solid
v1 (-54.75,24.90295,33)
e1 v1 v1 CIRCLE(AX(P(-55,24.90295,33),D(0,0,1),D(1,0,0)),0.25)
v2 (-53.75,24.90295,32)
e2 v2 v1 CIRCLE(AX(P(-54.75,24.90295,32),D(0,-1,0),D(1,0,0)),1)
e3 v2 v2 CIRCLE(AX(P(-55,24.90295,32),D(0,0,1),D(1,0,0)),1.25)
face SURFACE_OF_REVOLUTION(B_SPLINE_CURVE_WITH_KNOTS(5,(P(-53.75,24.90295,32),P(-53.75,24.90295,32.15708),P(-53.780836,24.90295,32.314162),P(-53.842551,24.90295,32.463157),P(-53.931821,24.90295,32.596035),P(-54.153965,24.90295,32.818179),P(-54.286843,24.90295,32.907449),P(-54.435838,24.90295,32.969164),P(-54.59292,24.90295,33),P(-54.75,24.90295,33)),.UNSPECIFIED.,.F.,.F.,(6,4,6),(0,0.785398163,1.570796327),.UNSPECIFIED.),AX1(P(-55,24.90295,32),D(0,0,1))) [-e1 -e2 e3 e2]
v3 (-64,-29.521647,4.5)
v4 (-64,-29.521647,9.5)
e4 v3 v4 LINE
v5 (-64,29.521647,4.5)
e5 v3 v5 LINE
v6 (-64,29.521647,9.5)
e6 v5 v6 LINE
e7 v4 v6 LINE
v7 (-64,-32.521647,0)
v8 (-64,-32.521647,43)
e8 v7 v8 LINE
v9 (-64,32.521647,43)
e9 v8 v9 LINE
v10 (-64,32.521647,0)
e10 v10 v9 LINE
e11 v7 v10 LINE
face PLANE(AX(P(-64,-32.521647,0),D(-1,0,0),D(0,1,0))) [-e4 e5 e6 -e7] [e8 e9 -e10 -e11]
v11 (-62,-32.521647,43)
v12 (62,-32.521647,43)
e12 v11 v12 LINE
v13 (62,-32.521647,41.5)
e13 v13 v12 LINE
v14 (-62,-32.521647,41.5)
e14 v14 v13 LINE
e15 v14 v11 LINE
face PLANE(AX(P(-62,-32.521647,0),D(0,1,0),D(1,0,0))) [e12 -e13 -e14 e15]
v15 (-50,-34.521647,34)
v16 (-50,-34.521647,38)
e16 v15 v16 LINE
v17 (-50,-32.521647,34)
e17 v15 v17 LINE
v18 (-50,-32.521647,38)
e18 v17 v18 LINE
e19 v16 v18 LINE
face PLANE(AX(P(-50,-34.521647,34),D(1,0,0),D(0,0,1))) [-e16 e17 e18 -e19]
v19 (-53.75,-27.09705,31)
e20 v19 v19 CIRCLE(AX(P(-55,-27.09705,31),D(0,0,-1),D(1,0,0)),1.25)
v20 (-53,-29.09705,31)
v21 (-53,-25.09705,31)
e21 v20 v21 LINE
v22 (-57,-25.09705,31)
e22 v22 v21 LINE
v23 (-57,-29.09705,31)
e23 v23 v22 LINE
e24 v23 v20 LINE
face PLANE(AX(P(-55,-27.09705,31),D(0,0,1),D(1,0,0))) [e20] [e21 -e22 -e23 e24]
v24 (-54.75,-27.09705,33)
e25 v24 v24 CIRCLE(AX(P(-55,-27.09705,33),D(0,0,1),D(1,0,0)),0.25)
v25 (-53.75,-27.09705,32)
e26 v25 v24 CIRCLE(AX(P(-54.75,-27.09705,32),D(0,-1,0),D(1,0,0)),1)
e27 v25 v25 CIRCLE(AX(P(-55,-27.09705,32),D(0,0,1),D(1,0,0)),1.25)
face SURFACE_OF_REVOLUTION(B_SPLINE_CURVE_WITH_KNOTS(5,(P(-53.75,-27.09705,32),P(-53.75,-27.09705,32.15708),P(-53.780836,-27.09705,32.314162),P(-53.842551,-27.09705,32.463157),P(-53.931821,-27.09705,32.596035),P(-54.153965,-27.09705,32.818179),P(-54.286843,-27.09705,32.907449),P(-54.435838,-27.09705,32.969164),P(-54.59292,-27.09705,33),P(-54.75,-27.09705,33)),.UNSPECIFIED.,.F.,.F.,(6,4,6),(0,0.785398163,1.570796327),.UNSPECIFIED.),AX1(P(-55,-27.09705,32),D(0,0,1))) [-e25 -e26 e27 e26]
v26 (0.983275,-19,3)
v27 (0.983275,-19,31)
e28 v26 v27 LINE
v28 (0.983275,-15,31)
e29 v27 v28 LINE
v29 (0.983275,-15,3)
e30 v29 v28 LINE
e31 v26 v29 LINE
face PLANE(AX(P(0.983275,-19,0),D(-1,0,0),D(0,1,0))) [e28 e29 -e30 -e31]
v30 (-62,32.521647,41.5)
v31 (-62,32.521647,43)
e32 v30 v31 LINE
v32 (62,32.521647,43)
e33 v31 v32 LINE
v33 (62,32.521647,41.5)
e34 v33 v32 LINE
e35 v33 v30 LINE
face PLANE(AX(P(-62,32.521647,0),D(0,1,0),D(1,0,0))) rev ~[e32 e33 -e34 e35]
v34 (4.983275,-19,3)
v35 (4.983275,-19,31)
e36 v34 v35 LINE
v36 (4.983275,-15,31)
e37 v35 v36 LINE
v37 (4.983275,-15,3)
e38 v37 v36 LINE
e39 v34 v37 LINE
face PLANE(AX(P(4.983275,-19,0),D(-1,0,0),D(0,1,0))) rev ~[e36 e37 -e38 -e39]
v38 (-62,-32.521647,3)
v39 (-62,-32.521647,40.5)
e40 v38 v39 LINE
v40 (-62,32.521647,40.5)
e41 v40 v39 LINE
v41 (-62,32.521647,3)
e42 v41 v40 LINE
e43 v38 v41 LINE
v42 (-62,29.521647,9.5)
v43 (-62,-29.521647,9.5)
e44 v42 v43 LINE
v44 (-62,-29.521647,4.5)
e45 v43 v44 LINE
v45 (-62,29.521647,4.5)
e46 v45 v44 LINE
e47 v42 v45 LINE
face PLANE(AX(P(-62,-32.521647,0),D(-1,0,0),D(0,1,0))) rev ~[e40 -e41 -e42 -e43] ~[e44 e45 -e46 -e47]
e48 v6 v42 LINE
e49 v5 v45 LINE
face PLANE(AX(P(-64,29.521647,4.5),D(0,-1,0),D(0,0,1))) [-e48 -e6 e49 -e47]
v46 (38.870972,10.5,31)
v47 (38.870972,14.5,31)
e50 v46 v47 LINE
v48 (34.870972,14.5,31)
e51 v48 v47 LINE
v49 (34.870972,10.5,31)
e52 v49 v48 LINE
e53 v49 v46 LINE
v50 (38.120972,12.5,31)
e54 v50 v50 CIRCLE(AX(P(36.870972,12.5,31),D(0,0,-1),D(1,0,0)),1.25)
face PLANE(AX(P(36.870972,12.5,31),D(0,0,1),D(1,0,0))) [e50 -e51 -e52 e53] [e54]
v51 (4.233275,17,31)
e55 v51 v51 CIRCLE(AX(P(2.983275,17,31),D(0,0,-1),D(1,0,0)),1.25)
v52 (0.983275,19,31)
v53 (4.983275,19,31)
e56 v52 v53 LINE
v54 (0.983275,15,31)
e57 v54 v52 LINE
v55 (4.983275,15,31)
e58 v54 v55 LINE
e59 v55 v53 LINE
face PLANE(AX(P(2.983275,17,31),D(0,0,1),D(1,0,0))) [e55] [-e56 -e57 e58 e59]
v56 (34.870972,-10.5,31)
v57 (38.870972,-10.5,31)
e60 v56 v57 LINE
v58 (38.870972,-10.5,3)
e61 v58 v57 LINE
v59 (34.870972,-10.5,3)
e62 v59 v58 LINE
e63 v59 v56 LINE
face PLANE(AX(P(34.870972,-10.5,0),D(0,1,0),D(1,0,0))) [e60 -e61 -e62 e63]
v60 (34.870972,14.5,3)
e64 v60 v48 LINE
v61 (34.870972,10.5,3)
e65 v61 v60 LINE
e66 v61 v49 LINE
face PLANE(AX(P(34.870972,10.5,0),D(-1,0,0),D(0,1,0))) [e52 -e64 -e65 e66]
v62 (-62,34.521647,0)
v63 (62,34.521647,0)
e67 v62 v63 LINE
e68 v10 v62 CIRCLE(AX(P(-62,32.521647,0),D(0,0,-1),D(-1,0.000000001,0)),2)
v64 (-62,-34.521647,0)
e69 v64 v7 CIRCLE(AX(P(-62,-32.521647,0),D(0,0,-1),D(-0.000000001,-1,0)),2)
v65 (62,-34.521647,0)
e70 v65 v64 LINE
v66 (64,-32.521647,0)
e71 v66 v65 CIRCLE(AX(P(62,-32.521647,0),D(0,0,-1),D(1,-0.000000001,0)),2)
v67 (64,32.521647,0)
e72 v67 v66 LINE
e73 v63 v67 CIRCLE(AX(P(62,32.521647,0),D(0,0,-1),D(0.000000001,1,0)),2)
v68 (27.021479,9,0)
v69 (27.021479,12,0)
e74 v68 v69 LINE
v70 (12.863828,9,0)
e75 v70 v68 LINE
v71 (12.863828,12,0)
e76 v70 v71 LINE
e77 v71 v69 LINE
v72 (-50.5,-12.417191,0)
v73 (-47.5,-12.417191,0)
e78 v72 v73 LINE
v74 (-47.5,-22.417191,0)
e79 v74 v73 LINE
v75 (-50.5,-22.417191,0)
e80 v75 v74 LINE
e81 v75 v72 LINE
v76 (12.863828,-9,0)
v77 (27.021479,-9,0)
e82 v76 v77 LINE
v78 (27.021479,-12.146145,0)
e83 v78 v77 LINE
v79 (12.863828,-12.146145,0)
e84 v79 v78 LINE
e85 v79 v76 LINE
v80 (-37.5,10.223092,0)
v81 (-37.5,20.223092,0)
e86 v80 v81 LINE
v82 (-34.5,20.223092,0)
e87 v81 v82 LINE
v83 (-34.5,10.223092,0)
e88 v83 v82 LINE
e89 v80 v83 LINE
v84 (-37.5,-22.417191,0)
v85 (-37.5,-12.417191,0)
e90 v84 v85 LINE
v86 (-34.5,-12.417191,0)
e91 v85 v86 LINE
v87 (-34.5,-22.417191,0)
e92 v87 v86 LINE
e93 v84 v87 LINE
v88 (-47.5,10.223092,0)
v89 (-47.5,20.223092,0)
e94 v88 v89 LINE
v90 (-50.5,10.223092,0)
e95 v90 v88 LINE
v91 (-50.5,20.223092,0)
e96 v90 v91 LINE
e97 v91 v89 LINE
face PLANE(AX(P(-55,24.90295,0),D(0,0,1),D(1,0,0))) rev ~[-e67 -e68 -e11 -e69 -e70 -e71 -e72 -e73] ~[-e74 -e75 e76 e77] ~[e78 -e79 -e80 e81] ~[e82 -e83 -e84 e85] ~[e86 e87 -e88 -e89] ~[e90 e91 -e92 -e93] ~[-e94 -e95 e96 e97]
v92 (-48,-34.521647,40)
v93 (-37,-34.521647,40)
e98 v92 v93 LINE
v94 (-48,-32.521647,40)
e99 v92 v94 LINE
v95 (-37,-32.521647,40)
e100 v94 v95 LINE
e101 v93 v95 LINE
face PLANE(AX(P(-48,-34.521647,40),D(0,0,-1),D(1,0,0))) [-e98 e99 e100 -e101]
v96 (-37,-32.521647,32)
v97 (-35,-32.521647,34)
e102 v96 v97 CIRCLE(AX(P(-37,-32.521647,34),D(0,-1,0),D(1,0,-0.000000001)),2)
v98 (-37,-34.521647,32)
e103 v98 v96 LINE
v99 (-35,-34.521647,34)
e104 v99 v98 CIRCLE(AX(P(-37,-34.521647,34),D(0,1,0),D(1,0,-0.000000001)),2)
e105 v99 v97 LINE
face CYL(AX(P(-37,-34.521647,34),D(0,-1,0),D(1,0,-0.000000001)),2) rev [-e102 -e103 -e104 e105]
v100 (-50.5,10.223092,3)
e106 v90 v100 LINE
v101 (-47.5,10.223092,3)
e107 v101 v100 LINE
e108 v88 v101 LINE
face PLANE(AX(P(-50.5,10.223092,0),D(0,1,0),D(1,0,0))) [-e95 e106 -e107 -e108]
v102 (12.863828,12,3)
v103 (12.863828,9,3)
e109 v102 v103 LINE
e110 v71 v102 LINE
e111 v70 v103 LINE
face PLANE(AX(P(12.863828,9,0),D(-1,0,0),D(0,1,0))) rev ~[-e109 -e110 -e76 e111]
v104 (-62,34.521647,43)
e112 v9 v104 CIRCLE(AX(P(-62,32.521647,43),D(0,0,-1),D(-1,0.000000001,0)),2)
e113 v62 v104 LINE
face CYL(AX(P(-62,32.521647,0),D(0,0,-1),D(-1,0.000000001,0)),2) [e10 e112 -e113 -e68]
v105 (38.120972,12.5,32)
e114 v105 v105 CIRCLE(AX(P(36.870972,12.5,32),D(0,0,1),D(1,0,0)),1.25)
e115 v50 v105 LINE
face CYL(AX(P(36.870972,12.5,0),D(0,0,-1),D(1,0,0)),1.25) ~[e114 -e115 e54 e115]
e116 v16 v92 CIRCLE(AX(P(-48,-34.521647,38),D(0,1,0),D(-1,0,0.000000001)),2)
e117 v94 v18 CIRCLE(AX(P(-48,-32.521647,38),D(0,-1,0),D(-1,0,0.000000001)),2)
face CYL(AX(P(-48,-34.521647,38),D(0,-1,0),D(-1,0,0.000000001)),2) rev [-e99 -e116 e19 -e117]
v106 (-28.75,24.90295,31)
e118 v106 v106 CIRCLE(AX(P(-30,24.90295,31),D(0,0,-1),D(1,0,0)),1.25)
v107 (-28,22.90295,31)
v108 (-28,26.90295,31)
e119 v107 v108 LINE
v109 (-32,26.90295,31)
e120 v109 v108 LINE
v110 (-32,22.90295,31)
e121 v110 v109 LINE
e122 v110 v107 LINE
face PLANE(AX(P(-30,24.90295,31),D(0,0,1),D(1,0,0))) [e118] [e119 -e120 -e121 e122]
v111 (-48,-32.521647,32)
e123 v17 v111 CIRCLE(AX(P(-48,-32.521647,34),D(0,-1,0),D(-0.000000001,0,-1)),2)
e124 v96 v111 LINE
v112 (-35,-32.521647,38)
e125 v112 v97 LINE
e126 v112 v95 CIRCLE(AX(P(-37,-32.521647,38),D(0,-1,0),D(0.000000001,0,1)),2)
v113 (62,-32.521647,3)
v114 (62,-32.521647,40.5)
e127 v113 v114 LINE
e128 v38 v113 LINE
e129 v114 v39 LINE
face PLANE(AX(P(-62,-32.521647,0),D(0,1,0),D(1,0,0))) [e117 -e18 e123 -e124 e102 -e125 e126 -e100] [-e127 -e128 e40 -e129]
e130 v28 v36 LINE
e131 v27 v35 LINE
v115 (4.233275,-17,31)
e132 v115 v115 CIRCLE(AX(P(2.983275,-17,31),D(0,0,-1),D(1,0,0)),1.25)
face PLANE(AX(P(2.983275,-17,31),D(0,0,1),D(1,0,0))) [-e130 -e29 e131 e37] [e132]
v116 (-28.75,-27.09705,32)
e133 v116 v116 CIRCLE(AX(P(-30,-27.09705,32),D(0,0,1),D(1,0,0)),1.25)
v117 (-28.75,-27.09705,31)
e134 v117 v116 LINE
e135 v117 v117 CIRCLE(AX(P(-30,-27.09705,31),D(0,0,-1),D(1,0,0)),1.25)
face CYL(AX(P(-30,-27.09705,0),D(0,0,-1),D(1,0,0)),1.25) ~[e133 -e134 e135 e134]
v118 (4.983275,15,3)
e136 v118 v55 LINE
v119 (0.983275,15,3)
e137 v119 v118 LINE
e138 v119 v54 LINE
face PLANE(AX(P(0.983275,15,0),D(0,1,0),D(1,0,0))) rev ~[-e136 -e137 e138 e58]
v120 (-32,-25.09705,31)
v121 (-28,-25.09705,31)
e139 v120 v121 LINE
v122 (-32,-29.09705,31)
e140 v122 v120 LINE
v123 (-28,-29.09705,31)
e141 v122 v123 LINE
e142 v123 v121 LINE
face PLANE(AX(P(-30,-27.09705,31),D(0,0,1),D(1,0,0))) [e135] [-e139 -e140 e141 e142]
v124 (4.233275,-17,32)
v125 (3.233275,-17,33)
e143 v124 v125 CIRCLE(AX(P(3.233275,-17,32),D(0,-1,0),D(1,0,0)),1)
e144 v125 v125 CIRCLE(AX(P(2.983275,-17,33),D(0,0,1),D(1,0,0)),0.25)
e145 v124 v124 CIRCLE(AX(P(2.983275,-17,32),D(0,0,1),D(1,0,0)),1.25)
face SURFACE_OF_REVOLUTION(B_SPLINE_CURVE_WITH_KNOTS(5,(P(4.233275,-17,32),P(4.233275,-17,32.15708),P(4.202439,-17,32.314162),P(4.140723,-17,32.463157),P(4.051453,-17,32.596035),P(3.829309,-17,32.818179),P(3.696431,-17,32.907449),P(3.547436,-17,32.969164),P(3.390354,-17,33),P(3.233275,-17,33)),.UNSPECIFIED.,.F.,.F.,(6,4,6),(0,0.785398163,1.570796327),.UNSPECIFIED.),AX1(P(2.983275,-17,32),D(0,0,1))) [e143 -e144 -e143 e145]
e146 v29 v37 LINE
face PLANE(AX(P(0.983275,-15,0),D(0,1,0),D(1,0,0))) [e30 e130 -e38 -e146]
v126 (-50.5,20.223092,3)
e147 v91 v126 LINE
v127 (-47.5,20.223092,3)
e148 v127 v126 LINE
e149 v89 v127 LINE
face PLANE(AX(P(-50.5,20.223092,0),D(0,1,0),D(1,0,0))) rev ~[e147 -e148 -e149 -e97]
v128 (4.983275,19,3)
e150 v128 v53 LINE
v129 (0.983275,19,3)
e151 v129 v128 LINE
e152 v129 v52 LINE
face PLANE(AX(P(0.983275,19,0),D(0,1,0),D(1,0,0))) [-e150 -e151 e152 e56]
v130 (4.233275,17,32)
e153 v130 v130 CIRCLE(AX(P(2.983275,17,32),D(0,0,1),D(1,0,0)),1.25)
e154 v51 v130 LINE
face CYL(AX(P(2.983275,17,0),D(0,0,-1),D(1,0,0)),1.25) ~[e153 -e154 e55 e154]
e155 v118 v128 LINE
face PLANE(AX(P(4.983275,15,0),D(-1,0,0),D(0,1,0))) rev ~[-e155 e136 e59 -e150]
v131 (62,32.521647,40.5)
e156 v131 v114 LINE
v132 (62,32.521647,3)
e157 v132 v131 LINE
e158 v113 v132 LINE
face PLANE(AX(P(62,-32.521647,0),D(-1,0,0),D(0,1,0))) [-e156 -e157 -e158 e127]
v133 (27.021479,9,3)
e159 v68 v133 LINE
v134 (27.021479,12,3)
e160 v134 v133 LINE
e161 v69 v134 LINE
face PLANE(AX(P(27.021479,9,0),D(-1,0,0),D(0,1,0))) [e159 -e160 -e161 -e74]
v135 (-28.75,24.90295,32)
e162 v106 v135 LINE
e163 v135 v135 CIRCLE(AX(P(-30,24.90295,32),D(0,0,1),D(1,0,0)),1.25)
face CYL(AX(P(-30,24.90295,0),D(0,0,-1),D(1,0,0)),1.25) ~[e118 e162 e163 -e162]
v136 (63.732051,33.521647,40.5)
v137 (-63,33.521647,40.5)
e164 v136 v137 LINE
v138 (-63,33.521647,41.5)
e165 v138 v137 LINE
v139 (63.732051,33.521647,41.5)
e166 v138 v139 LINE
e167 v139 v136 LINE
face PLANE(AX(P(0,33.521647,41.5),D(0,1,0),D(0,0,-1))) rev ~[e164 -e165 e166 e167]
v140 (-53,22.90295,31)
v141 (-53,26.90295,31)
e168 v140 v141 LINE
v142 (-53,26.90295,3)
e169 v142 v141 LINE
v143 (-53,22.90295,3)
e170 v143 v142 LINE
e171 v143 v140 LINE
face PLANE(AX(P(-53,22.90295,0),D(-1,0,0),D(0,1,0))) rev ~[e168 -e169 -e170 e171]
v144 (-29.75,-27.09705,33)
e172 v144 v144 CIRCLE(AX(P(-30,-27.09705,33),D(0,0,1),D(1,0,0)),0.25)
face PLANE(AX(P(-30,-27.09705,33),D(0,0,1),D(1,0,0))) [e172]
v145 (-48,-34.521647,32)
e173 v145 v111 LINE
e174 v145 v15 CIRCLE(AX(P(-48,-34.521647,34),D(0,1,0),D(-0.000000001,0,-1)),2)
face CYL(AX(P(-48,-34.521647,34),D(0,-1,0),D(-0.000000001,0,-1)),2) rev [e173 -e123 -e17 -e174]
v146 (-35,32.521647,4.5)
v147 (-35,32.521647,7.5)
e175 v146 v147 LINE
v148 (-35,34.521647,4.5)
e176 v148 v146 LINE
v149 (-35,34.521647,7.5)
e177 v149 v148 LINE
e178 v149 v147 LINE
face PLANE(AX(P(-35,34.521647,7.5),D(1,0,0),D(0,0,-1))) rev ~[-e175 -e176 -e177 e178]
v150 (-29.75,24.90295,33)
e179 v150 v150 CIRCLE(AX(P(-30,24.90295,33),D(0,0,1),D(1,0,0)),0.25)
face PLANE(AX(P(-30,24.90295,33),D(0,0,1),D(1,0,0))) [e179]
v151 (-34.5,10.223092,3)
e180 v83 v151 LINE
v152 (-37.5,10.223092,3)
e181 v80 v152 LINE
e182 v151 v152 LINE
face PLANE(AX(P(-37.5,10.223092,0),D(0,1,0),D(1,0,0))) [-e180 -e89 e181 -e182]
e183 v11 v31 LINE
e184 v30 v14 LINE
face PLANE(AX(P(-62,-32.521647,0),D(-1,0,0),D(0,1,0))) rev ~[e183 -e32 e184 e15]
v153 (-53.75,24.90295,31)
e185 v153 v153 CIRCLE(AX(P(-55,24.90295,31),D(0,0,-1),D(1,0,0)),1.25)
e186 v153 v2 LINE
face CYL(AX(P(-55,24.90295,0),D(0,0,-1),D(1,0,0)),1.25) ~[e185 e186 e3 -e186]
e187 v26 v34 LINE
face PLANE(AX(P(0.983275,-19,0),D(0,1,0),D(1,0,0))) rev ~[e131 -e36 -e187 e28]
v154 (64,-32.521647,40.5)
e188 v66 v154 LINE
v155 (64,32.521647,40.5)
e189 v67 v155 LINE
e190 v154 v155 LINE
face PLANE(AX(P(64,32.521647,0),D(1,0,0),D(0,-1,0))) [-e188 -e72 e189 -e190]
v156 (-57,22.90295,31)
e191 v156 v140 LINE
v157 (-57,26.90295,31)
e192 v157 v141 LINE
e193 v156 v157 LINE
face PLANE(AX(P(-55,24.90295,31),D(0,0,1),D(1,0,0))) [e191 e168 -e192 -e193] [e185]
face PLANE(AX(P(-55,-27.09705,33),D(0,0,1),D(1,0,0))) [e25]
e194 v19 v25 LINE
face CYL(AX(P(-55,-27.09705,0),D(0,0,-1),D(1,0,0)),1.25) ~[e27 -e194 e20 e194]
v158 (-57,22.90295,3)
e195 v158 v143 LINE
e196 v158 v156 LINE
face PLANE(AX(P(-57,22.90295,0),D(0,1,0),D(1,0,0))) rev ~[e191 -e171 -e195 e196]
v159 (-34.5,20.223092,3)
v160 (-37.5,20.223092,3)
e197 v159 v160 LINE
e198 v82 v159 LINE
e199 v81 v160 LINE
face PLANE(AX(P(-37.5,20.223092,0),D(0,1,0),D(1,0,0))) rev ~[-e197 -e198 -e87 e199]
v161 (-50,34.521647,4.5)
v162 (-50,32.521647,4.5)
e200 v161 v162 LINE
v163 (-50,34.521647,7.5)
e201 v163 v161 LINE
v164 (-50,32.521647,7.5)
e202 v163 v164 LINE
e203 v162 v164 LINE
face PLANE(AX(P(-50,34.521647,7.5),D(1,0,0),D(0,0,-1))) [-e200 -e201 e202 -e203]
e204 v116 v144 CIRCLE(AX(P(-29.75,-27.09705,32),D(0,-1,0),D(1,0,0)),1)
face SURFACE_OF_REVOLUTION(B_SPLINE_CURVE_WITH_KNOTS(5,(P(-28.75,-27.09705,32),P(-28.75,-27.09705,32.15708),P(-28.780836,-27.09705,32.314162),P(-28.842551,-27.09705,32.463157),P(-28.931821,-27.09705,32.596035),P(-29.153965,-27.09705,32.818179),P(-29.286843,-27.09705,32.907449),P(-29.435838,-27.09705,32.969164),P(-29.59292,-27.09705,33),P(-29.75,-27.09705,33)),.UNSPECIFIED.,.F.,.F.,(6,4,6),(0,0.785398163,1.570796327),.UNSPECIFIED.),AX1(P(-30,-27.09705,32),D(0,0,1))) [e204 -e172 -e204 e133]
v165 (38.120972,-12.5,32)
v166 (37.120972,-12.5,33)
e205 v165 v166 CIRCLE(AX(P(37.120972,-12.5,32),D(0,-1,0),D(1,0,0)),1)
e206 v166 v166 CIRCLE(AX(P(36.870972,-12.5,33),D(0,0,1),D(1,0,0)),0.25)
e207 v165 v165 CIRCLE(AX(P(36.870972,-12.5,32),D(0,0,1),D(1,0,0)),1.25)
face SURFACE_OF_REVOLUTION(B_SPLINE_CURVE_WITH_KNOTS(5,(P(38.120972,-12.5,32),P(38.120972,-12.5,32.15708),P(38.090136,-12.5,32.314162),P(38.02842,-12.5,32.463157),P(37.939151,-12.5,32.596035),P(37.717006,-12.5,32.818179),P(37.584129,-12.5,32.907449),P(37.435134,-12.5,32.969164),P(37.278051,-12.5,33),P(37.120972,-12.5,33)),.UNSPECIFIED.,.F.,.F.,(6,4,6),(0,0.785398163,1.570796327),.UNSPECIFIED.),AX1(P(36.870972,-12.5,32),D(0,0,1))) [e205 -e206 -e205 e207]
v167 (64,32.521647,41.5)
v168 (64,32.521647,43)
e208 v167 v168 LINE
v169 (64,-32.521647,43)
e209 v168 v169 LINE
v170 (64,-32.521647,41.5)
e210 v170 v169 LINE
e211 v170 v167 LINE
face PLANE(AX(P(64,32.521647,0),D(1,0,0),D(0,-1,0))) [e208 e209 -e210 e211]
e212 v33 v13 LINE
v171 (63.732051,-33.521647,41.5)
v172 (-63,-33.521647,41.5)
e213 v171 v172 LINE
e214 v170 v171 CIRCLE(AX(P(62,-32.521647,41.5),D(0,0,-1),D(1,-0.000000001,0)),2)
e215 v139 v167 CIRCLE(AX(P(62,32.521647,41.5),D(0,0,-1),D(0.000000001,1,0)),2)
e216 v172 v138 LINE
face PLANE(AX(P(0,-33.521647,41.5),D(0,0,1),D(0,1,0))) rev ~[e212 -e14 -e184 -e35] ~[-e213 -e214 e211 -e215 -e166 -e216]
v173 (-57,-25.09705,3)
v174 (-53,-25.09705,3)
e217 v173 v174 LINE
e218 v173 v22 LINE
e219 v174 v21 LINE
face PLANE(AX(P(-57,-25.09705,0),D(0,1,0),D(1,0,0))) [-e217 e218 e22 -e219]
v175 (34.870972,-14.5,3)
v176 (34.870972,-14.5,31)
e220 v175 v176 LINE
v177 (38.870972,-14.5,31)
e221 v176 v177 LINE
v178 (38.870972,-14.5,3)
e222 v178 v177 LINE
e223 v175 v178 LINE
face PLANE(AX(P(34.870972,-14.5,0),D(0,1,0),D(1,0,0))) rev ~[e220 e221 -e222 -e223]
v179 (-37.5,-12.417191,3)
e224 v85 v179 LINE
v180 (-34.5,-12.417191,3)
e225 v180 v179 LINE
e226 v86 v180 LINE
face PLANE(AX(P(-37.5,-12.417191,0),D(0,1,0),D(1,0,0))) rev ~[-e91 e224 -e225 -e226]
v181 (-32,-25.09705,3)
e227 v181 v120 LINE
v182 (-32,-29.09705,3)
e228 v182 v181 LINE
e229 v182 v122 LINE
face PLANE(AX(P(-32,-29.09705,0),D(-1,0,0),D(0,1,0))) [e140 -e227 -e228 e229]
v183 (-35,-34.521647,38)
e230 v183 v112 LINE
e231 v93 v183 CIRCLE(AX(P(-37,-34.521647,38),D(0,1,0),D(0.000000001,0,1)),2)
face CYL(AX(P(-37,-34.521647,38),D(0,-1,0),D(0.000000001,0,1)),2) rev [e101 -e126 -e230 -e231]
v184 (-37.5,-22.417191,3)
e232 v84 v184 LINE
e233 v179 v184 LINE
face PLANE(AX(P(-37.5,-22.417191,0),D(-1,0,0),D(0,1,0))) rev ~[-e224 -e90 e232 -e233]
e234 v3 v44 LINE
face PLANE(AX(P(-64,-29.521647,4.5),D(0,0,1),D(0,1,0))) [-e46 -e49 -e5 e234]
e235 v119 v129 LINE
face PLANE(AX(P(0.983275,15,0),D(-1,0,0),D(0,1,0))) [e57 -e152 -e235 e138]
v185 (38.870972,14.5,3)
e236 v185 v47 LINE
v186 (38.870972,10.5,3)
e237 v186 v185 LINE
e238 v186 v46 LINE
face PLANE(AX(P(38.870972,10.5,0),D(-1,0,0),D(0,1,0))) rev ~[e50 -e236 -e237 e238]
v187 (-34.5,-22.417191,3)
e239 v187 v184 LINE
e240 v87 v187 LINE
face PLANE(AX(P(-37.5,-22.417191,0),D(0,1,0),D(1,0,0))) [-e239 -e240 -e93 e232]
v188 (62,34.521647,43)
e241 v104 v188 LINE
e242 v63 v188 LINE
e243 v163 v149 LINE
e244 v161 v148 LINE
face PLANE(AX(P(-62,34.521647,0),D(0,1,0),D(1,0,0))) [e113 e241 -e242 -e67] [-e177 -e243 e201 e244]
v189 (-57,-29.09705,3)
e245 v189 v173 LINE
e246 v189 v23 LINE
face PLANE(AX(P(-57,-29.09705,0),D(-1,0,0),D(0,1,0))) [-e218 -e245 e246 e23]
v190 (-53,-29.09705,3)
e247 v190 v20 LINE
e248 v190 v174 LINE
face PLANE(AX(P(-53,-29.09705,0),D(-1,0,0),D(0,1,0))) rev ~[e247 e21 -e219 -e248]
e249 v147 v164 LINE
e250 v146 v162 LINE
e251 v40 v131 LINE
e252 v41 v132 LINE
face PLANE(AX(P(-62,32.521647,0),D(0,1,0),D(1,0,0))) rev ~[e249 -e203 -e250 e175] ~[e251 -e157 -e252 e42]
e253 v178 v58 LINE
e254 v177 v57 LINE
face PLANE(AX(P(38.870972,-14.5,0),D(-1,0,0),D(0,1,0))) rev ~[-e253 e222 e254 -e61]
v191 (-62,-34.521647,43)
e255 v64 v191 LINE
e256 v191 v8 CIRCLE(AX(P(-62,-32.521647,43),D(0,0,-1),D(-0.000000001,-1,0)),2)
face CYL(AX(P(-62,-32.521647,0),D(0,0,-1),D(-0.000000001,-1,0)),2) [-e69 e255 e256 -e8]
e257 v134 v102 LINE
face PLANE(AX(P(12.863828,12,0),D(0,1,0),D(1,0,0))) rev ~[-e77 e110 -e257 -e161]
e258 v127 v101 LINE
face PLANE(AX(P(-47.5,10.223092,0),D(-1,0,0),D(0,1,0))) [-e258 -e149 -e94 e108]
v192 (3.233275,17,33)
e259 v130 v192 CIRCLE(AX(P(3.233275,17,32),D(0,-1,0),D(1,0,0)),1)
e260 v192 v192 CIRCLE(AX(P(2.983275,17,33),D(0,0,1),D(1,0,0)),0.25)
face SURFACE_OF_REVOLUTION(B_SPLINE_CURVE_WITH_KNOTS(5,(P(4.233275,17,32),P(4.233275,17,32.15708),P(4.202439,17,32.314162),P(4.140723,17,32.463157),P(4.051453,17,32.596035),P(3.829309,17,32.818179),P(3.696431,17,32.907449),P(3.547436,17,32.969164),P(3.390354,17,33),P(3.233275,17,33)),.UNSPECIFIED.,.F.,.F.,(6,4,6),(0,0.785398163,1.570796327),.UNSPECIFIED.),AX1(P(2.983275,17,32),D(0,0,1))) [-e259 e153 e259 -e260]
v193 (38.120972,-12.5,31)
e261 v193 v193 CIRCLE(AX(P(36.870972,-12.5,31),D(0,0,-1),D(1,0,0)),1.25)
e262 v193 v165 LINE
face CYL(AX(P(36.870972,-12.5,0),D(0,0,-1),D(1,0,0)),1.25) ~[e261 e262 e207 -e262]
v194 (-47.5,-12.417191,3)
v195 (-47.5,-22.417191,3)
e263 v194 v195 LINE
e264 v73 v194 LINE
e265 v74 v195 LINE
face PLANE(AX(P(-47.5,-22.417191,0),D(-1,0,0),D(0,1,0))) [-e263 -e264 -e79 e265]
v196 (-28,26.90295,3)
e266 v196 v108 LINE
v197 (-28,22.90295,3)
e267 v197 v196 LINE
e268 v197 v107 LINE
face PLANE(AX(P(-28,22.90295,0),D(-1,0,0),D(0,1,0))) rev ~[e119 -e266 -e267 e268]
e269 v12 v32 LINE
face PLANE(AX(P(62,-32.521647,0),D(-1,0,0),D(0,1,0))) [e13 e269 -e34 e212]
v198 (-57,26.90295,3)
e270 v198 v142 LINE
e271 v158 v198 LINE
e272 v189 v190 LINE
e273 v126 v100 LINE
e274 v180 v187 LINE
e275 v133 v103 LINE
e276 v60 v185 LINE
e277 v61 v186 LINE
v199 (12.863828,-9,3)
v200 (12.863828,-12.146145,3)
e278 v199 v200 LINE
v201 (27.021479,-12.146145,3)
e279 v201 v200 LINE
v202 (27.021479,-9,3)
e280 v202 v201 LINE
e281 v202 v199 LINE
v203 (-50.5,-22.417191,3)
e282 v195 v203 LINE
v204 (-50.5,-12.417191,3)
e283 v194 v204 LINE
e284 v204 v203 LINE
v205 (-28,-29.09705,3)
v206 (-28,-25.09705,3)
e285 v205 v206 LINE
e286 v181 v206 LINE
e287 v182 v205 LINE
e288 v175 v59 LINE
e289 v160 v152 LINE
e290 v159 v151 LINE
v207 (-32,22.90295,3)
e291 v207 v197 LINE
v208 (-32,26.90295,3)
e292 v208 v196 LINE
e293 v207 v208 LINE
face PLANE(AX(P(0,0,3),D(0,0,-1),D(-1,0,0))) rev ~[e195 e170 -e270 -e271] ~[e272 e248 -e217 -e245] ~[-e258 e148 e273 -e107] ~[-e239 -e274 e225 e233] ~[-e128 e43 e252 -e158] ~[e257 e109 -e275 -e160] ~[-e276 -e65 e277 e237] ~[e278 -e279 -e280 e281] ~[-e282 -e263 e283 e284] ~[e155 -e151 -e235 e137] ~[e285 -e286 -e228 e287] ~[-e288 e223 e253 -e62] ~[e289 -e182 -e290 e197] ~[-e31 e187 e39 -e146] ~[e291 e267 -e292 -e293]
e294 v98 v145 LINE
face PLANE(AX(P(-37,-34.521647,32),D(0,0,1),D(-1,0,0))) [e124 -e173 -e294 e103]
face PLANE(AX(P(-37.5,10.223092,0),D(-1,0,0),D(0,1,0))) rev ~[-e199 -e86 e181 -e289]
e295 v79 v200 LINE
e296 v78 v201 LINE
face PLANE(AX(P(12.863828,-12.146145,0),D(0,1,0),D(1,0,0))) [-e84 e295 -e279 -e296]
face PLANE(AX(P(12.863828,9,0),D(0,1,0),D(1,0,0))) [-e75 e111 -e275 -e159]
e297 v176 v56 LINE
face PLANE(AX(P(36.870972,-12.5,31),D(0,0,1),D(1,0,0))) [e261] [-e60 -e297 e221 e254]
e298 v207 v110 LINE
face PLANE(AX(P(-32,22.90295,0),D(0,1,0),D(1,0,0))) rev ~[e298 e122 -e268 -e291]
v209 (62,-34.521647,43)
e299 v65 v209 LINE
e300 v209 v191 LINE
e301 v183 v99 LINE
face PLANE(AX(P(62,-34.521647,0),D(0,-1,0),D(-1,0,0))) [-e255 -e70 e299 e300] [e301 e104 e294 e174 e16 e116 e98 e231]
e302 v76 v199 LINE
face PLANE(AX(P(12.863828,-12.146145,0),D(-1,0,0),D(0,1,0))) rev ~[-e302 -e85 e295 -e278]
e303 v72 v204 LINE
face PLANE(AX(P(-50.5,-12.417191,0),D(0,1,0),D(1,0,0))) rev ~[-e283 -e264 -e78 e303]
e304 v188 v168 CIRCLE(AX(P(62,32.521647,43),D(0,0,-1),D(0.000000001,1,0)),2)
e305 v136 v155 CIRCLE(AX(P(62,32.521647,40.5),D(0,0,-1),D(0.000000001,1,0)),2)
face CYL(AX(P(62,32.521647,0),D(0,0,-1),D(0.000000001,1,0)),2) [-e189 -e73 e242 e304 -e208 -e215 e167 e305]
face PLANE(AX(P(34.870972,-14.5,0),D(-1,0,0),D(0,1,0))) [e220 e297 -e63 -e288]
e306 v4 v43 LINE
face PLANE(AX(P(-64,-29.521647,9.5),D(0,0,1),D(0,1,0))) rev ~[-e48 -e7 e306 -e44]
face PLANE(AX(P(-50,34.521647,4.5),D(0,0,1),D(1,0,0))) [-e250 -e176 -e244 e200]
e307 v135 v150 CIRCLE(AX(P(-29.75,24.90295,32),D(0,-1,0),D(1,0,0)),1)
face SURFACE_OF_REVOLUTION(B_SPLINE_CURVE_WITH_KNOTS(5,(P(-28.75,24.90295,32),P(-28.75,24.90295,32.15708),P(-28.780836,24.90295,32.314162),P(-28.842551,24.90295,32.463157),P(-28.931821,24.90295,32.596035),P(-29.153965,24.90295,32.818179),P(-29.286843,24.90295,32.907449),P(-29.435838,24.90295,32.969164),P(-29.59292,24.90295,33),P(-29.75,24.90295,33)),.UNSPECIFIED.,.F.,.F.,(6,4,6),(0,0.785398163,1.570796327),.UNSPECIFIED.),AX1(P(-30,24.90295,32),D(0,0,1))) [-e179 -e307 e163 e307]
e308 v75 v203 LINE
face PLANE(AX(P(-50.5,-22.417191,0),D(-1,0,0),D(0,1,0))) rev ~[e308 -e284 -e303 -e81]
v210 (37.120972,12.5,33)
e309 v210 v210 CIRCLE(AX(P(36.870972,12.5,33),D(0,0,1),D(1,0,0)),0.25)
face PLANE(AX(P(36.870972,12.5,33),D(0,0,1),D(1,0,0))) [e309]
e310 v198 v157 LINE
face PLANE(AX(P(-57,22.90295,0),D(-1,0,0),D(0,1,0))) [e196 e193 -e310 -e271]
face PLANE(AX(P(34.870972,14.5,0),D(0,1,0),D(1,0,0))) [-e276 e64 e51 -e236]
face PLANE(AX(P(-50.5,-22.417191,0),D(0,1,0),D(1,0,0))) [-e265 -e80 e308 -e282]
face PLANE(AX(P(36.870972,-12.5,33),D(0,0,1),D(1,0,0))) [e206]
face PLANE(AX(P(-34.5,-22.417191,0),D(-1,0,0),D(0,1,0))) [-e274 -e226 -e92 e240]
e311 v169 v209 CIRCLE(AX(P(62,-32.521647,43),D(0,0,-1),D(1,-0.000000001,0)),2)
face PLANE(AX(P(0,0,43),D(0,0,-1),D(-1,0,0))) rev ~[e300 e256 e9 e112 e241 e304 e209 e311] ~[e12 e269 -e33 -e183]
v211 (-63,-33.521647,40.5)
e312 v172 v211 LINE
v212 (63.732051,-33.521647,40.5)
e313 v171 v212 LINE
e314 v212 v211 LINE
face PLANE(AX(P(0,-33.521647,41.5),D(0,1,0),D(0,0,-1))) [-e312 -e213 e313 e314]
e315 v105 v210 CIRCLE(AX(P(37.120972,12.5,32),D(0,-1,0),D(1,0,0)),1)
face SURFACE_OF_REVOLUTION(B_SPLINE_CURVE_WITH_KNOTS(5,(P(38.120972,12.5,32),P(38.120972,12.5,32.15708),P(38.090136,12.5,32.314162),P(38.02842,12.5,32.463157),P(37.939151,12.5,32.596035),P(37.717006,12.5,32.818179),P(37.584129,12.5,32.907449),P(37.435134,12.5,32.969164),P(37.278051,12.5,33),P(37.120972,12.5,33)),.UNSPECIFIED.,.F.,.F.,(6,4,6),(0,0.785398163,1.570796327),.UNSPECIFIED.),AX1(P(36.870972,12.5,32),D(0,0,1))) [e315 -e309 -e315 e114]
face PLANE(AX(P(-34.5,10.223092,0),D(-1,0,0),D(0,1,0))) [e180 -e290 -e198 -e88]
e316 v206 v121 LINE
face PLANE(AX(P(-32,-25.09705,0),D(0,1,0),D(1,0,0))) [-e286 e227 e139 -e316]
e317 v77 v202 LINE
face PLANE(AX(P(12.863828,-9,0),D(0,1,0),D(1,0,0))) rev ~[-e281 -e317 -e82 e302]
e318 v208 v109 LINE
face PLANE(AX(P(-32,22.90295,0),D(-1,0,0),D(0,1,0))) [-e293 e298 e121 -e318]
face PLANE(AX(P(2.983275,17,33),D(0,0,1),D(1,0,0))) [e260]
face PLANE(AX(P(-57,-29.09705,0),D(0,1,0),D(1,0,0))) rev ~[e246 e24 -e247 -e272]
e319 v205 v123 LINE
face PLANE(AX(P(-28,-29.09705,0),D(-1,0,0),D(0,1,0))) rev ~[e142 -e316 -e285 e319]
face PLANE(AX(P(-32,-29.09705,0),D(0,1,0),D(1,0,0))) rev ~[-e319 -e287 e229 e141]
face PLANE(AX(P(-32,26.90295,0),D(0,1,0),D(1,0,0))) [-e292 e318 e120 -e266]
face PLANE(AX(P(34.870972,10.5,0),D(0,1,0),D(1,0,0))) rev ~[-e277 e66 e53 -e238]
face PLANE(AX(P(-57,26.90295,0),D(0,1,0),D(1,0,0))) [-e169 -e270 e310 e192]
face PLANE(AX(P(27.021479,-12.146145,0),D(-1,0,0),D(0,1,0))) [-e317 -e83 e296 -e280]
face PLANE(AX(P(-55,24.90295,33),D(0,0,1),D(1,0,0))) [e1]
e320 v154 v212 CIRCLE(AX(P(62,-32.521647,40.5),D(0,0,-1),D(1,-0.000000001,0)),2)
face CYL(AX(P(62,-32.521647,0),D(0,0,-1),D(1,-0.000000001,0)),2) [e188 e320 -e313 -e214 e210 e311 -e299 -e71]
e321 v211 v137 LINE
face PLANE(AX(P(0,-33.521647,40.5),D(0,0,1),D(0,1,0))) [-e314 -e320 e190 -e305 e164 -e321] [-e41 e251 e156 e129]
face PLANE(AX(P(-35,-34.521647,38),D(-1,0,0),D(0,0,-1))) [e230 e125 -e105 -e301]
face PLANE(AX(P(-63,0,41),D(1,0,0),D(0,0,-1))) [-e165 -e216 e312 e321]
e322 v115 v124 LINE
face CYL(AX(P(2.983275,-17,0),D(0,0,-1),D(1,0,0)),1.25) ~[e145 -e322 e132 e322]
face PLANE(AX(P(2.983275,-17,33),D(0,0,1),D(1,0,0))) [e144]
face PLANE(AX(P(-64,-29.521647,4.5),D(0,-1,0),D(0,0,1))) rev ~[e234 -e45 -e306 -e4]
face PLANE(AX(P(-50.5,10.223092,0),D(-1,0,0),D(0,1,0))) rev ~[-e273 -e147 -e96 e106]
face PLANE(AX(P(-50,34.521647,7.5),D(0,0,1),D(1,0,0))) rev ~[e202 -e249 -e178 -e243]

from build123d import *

# Parameters (mm, degrees)
SALIENTE_EXTRUIR1_DEPTH           = 3
CROQUIS2_W                        = 124
CROQUIS2_H                        = 65.043293936
SALIENTE_EXTRUIR2_DEPTH           = 43
CORTAR_EXTRUIR1_REACH             = 86.479
CROQUIS3_W                        = 1
CROQUIS3_H                        = 67.043293936
CORTAR_EXTRUIR1_DIRECTION_2_DEPTH = 63
CROQUIS4_W                        = 4
CROQUIS4_H                        = 4
CROQUIS4_R                        = 1.25
SALIENTE_EXTRUIR3_DEPTH           = 31
CROQUIS6_R                        = 1.25
SALIENTE_EXTRUIR4_DEPTH           = 33
REDONDEO3_R                       = 1
CORTAR_EXTRUIR2_REACH             = 105.499
CORTAR_EXTRUIR3_REACH             = 141.373
CROQUIS10_W                       = 5
CROQUIS10_H                       = 59.043293936
CORTAR_EXTRUIR4_REACH             = 86.479
CROQUIS11_W                       = 3
CROQUIS11_H                       = 10
CROQUIS11_W_2                     = 14.157650518
CROQUIS11_H_2                     = 3
CROQUIS11_H_3                     = 3.14614456
CORTAR_EXTRUIR5_REACH             = 105.499
CROQUIS13_W                       = 15
CROQUIS13_H                       = 3


with BuildPart() as part:
    # Croquis1 → Saliente-Extruir1 (new body)
    with BuildSketch(Plane.XY):
        with BuildLine():
            Line((62, -34.5), (-62, -34.5))
            ThreePointArc((-62, -34.5), (-63.414213562, -33.914213562), (-64, -32.5))
            Line((-64, -32.5), (-64, 32.5))
            ThreePointArc((-64, 32.5), (-63.414213562, 33.914213562), (-62, 34.5))
            Line((-62, 34.5), (62, 34.5))
            ThreePointArc((62, 34.5), (63.414213562, 33.914213562), (64, 32.5))
            Line((64, 32.5), (64, -32.5))
            ThreePointArc((64, -32.5), (63.414213562, -33.914213562), (62, -34.5))
        make_face()
    extrude(amount=SALIENTE_EXTRUIR1_DEPTH)

    # Croquis2 → Saliente-Extruir2 (add)
    with BuildSketch(Plane.XY):
        with BuildLine():
            Line((62, -34.521646968), (-62, -34.521646968))
            ThreePointArc((-62, -34.521646968), (-63.414213562, -33.93586053), (-64, -32.521646968))
            Line((-64, -32.521646968), (-64, 32.521646968))
            ThreePointArc((-64, 32.521646968), (-63.414213562, 33.93586053), (-62, 34.521646968))
            Line((-62, 34.521646968), (62, 34.521646968))
            ThreePointArc((62, 34.521646968), (63.414213562, 33.93586053), (64, 32.521646968))
            Line((64, 32.521646968), (64, -32.521646968))
            ThreePointArc((64, -32.521646968), (63.414213562, -33.93586053), (62, -34.521646968))
        make_face()
        Rectangle(CROQUIS2_W, CROQUIS2_H, mode=Mode.SUBTRACT)
    extrude(amount=SALIENTE_EXTRUIR2_DEPTH)

    # Croquis3 → Cortar-Extruir1 (cut, up to next)
    with BuildSketch(Plane(origin=(0, 0, 0), x_dir=(0, 0, -1), z_dir=(1, 0, 0)), mode=Mode.PRIVATE) as cortar_extruir1_sk1:
        with Locations((-41, 0)):
            Rectangle(CROQUIS3_W, CROQUIS3_H)
    cortar_extruir1_tool1 = extrude(cortar_extruir1_sk1.sketch, amount=CORTAR_EXTRUIR1_REACH, mode=Mode.PRIVATE) & part.part
    add(cortar_extruir1_tool1.solids().sort_by_distance((0, 0, 41))[0], mode=Mode.SUBTRACT)

    # Croquis3 → Cortar-Extruir1 direction 2 (cut)
    with BuildSketch(Plane(origin=(0, 0, 0), x_dir=(0, 0, -1), z_dir=(1, 0, 0))):
        with Locations((-41, 0)):
            Rectangle(CROQUIS3_W, CROQUIS3_H)
    extrude(amount=-CORTAR_EXTRUIR1_DIRECTION_2_DEPTH, mode=Mode.SUBTRACT)

    # Croquis4 → Saliente-Extruir3 (add)
    # profile 1 of 8: a face of its own
    with BuildSketch(Plane.XY):
        with Locations((-55, 24.9029505)):
            Rectangle(CROQUIS4_W, CROQUIS4_H)
        with Locations(Location((-55, 24.9029505, 0), (0, 0, 180))):
            Circle(CROQUIS4_R, mode=Mode.SUBTRACT)
    # profile 2 of 8: a face of its own
    with BuildSketch(Plane.XY):
        with Locations((-30, 24.9029505)):
            Rectangle(CROQUIS4_W, CROQUIS4_H)
        with Locations(Location((-30, 24.9029505, 0), (0, 0, 180))):
            Circle(CROQUIS4_R, mode=Mode.SUBTRACT)
    # profile 3 of 8: a face of its own
    with BuildSketch(Plane.XY):
        with Locations((-55, -27.0970495)):
            Rectangle(CROQUIS4_W, CROQUIS4_H)
        with Locations(Location((-55, -27.0970495, 0), (0, 0, 180))):
            Circle(CROQUIS4_R, mode=Mode.SUBTRACT)
    # profile 4 of 8: a face of its own
    with BuildSketch(Plane.XY):
        with Locations((-30, -27.0970495)):
            Rectangle(CROQUIS4_W, CROQUIS4_H)
        with Locations(Location((-30, -27.0970495, 0), (0, 0, 180))):
            Circle(CROQUIS4_R, mode=Mode.SUBTRACT)
    # profile 5 of 8: a face of its own
    with BuildSketch(Plane.XY):
        with Locations((2.98327452, 17)):
            Rectangle(CROQUIS4_W, CROQUIS4_H)
        with Locations(Location((2.98327452, 17, 0), (0, 0, 180))):
            Circle(CROQUIS4_R, mode=Mode.SUBTRACT)
    # profile 6 of 8: a face of its own
    with BuildSketch(Plane.XY):
        with Locations((2.98327452, -17)):
            Rectangle(CROQUIS4_W, CROQUIS4_H)
        with Locations(Location((2.98327452, -17, 0), (0, 0, 180))):
            Circle(CROQUIS4_R, mode=Mode.SUBTRACT)
    # profile 7 of 8: a face of its own
    with BuildSketch(Plane.XY):
        with Locations((36.870971788, -12.5)):
            Rectangle(CROQUIS4_W, CROQUIS4_H)
        with Locations(Location((36.870971788, -12.5, 0), (0, 0, 180))):
            Circle(CROQUIS4_R, mode=Mode.SUBTRACT)
    # profile 8 of 8: a face of its own
    with BuildSketch(Plane.XY):
        with Locations((36.870971788, 12.5)):
            Rectangle(CROQUIS4_W, CROQUIS4_H)
        with Locations(Location((36.870971788, 12.5, 0), (0, 0, 180))):
            Circle(CROQUIS4_R, mode=Mode.SUBTRACT)
    extrude(amount=SALIENTE_EXTRUIR3_DEPTH)

    # Croquis6 → Saliente-Extruir4 (add)
    with BuildSketch(Plane.XY):
        with Locations((-55, 24.9029505)):
            Circle(CROQUIS6_R)
        with Locations((-30, 24.9029505)):
            Circle(CROQUIS6_R)
        with Locations((-30, -27.0970495)):
            Circle(CROQUIS6_R)
        with Locations((-55, -27.0970495)):
            Circle(CROQUIS6_R)
        with Locations((2.98327452, -17)):
            Circle(CROQUIS6_R)
        with Locations((36.870971788, -12.5)):
            Circle(CROQUIS6_R)
        with Locations((36.870971788, 12.5)):
            Circle(CROQUIS6_R)
        with Locations((2.98327452, 17)):
            Circle(CROQUIS6_R)
    extrude(amount=SALIENTE_EXTRUIR4_DEPTH)

    # Redondeo3
    redondeo3_edges = [part.edges().sort_by_distance(p)[0] for p in [
        (-56.25, 24.9029505, 33),
        (-31.25, 24.9029505, 33),
        (-31.25, -27.0970495, 33),
        (-56.25, -27.0970495, 33),
        (1.73327452, -17, 33),
        (35.620971788, -12.5, 33),
        (35.620971788, 12.5, 33),
        (1.73327452, 17, 33),
    ]]
    fillet(redondeo3_edges, radius=REDONDEO3_R)

    # Croquis9 → Cortar-Extruir2 (cut, up to next)
    with BuildSketch(Plane.XZ.offset(34.521646968), mode=Mode.PRIVATE) as cortar_extruir2_sk1:
        with BuildLine():
            Line((-48, 40), (-37, 40))
            ThreePointArc((-37, 40), (-35.585786438, 39.414213562), (-35, 38))
            Line((-35, 38), (-35, 34))
            ThreePointArc((-35, 34), (-35.585786438, 32.585786438), (-37, 32))
            Line((-37, 32), (-48, 32))
            ThreePointArc((-48, 32), (-49.414213562, 32.585786438), (-50, 34))
            Line((-50, 34), (-50, 38))
            ThreePointArc((-50, 38), (-49.414213562, 39.414213562), (-48, 40))
        make_face()
    cortar_extruir2_tool1 = extrude(cortar_extruir2_sk1.sketch, amount=-CORTAR_EXTRUIR2_REACH, mode=Mode.PRIVATE) & part.part
    add(cortar_extruir2_tool1.solids().sort_by_distance((-42.5, -34.521647, 36))[0], mode=Mode.SUBTRACT)

    # Croquis10 → Cortar-Extruir3 (cut, up to next)
    with BuildSketch(Plane.ZY.offset(64), mode=Mode.PRIVATE) as cortar_extruir3_sk1:
        with Locations((7, 0)):
            Rectangle(CROQUIS10_W, CROQUIS10_H)
    cortar_extruir3_tool1 = extrude(cortar_extruir3_sk1.sketch, amount=-CORTAR_EXTRUIR3_REACH, mode=Mode.PRIVATE) & part.part
    add(cortar_extruir3_tool1.solids().sort_by_distance((-64, 0, 7))[0], mode=Mode.SUBTRACT)

    # Croquis11 → Cortar-Extruir4 (cut, up to next)
    with BuildSketch(Plane.XY, mode=Mode.PRIVATE) as cortar_extruir4_sk1:
        with Locations((-49, 15.223092442)):
            Rectangle(CROQUIS11_W, CROQUIS11_H)
    cortar_extruir4_tool1 = extrude(cortar_extruir4_sk1.sketch, amount=CORTAR_EXTRUIR4_REACH, mode=Mode.PRIVATE) & part.part
    # Croquis11 → Cortar-Extruir4 (cut, up to next)
    with BuildSketch(Plane.XY, mode=Mode.PRIVATE) as cortar_extruir4_sk2:
        with Locations((-36, 15.223092442)):
            Rectangle(CROQUIS11_W, CROQUIS11_H)
    cortar_extruir4_tool2 = extrude(cortar_extruir4_sk2.sketch, amount=CORTAR_EXTRUIR4_REACH, mode=Mode.PRIVATE) & part.part
    # Croquis11 → Cortar-Extruir4 (cut, up to next)
    with BuildSketch(Plane.XY, mode=Mode.PRIVATE) as cortar_extruir4_sk3:
        with Locations((-49, -17.417191442)):
            Rectangle(CROQUIS11_W, CROQUIS11_H)
    cortar_extruir4_tool3 = extrude(cortar_extruir4_sk3.sketch, amount=CORTAR_EXTRUIR4_REACH, mode=Mode.PRIVATE) & part.part
    # Croquis11 → Cortar-Extruir4 (cut, up to next)
    with BuildSketch(Plane.XY, mode=Mode.PRIVATE) as cortar_extruir4_sk4:
        with Locations((-36, -17.417191442)):
            Rectangle(CROQUIS11_W, CROQUIS11_H)
    cortar_extruir4_tool4 = extrude(cortar_extruir4_sk4.sketch, amount=CORTAR_EXTRUIR4_REACH, mode=Mode.PRIVATE) & part.part
    # Croquis11 → Cortar-Extruir4 (cut, up to next)
    with BuildSketch(Plane.XY, mode=Mode.PRIVATE) as cortar_extruir4_sk5:
        with Locations((19.942653438, 10.5)):
            Rectangle(CROQUIS11_W_2, CROQUIS11_H_2)
    cortar_extruir4_tool5 = extrude(cortar_extruir4_sk5.sketch, amount=CORTAR_EXTRUIR4_REACH, mode=Mode.PRIVATE) & part.part
    # Croquis11 → Cortar-Extruir4 (cut, up to next)
    with BuildSketch(Plane.XY, mode=Mode.PRIVATE) as cortar_extruir4_sk6:
        with Locations((19.942653438, -10.57307228)):
            Rectangle(CROQUIS11_W_2, CROQUIS11_H_3)
    cortar_extruir4_tool6 = extrude(cortar_extruir4_sk6.sketch, amount=CORTAR_EXTRUIR4_REACH, mode=Mode.PRIVATE) & part.part
    add(cortar_extruir4_tool1.solids().sort_by_distance((-49, 15.223092, 0))[0], mode=Mode.SUBTRACT)
    add(cortar_extruir4_tool2.solids().sort_by_distance((-36, 15.223092, 0))[0], mode=Mode.SUBTRACT)
    add(cortar_extruir4_tool3.solids().sort_by_distance((-49, -17.417191, 0))[0], mode=Mode.SUBTRACT)
    add(cortar_extruir4_tool4.solids().sort_by_distance((-36, -17.417191, 0))[0], mode=Mode.SUBTRACT)
    add(cortar_extruir4_tool5.solids().sort_by_distance((19.942653, 10.5, 0))[0], mode=Mode.SUBTRACT)
    add(cortar_extruir4_tool6.solids().sort_by_distance((19.942653, -10.573072, 0))[0], mode=Mode.SUBTRACT)

    # Croquis13 → Cortar-Extruir5 (cut, up to next)
    with BuildSketch(Plane(origin=(0, 34.521646968, 0), x_dir=(1, 0, 0), z_dir=(0, 1, 0)), mode=Mode.PRIVATE) as cortar_extruir5_sk1:
        with Locations((-42.5, -6)):
            Rectangle(CROQUIS13_W, CROQUIS13_H)
    cortar_extruir5_tool1 = extrude(cortar_extruir5_sk1.sketch, amount=-CORTAR_EXTRUIR5_REACH, mode=Mode.PRIVATE) & part.part
    add(cortar_extruir5_tool1.solids().sort_by_distance((-42.5, 34.521647, 6))[0], mode=Mode.SUBTRACT)


solid = part.part
